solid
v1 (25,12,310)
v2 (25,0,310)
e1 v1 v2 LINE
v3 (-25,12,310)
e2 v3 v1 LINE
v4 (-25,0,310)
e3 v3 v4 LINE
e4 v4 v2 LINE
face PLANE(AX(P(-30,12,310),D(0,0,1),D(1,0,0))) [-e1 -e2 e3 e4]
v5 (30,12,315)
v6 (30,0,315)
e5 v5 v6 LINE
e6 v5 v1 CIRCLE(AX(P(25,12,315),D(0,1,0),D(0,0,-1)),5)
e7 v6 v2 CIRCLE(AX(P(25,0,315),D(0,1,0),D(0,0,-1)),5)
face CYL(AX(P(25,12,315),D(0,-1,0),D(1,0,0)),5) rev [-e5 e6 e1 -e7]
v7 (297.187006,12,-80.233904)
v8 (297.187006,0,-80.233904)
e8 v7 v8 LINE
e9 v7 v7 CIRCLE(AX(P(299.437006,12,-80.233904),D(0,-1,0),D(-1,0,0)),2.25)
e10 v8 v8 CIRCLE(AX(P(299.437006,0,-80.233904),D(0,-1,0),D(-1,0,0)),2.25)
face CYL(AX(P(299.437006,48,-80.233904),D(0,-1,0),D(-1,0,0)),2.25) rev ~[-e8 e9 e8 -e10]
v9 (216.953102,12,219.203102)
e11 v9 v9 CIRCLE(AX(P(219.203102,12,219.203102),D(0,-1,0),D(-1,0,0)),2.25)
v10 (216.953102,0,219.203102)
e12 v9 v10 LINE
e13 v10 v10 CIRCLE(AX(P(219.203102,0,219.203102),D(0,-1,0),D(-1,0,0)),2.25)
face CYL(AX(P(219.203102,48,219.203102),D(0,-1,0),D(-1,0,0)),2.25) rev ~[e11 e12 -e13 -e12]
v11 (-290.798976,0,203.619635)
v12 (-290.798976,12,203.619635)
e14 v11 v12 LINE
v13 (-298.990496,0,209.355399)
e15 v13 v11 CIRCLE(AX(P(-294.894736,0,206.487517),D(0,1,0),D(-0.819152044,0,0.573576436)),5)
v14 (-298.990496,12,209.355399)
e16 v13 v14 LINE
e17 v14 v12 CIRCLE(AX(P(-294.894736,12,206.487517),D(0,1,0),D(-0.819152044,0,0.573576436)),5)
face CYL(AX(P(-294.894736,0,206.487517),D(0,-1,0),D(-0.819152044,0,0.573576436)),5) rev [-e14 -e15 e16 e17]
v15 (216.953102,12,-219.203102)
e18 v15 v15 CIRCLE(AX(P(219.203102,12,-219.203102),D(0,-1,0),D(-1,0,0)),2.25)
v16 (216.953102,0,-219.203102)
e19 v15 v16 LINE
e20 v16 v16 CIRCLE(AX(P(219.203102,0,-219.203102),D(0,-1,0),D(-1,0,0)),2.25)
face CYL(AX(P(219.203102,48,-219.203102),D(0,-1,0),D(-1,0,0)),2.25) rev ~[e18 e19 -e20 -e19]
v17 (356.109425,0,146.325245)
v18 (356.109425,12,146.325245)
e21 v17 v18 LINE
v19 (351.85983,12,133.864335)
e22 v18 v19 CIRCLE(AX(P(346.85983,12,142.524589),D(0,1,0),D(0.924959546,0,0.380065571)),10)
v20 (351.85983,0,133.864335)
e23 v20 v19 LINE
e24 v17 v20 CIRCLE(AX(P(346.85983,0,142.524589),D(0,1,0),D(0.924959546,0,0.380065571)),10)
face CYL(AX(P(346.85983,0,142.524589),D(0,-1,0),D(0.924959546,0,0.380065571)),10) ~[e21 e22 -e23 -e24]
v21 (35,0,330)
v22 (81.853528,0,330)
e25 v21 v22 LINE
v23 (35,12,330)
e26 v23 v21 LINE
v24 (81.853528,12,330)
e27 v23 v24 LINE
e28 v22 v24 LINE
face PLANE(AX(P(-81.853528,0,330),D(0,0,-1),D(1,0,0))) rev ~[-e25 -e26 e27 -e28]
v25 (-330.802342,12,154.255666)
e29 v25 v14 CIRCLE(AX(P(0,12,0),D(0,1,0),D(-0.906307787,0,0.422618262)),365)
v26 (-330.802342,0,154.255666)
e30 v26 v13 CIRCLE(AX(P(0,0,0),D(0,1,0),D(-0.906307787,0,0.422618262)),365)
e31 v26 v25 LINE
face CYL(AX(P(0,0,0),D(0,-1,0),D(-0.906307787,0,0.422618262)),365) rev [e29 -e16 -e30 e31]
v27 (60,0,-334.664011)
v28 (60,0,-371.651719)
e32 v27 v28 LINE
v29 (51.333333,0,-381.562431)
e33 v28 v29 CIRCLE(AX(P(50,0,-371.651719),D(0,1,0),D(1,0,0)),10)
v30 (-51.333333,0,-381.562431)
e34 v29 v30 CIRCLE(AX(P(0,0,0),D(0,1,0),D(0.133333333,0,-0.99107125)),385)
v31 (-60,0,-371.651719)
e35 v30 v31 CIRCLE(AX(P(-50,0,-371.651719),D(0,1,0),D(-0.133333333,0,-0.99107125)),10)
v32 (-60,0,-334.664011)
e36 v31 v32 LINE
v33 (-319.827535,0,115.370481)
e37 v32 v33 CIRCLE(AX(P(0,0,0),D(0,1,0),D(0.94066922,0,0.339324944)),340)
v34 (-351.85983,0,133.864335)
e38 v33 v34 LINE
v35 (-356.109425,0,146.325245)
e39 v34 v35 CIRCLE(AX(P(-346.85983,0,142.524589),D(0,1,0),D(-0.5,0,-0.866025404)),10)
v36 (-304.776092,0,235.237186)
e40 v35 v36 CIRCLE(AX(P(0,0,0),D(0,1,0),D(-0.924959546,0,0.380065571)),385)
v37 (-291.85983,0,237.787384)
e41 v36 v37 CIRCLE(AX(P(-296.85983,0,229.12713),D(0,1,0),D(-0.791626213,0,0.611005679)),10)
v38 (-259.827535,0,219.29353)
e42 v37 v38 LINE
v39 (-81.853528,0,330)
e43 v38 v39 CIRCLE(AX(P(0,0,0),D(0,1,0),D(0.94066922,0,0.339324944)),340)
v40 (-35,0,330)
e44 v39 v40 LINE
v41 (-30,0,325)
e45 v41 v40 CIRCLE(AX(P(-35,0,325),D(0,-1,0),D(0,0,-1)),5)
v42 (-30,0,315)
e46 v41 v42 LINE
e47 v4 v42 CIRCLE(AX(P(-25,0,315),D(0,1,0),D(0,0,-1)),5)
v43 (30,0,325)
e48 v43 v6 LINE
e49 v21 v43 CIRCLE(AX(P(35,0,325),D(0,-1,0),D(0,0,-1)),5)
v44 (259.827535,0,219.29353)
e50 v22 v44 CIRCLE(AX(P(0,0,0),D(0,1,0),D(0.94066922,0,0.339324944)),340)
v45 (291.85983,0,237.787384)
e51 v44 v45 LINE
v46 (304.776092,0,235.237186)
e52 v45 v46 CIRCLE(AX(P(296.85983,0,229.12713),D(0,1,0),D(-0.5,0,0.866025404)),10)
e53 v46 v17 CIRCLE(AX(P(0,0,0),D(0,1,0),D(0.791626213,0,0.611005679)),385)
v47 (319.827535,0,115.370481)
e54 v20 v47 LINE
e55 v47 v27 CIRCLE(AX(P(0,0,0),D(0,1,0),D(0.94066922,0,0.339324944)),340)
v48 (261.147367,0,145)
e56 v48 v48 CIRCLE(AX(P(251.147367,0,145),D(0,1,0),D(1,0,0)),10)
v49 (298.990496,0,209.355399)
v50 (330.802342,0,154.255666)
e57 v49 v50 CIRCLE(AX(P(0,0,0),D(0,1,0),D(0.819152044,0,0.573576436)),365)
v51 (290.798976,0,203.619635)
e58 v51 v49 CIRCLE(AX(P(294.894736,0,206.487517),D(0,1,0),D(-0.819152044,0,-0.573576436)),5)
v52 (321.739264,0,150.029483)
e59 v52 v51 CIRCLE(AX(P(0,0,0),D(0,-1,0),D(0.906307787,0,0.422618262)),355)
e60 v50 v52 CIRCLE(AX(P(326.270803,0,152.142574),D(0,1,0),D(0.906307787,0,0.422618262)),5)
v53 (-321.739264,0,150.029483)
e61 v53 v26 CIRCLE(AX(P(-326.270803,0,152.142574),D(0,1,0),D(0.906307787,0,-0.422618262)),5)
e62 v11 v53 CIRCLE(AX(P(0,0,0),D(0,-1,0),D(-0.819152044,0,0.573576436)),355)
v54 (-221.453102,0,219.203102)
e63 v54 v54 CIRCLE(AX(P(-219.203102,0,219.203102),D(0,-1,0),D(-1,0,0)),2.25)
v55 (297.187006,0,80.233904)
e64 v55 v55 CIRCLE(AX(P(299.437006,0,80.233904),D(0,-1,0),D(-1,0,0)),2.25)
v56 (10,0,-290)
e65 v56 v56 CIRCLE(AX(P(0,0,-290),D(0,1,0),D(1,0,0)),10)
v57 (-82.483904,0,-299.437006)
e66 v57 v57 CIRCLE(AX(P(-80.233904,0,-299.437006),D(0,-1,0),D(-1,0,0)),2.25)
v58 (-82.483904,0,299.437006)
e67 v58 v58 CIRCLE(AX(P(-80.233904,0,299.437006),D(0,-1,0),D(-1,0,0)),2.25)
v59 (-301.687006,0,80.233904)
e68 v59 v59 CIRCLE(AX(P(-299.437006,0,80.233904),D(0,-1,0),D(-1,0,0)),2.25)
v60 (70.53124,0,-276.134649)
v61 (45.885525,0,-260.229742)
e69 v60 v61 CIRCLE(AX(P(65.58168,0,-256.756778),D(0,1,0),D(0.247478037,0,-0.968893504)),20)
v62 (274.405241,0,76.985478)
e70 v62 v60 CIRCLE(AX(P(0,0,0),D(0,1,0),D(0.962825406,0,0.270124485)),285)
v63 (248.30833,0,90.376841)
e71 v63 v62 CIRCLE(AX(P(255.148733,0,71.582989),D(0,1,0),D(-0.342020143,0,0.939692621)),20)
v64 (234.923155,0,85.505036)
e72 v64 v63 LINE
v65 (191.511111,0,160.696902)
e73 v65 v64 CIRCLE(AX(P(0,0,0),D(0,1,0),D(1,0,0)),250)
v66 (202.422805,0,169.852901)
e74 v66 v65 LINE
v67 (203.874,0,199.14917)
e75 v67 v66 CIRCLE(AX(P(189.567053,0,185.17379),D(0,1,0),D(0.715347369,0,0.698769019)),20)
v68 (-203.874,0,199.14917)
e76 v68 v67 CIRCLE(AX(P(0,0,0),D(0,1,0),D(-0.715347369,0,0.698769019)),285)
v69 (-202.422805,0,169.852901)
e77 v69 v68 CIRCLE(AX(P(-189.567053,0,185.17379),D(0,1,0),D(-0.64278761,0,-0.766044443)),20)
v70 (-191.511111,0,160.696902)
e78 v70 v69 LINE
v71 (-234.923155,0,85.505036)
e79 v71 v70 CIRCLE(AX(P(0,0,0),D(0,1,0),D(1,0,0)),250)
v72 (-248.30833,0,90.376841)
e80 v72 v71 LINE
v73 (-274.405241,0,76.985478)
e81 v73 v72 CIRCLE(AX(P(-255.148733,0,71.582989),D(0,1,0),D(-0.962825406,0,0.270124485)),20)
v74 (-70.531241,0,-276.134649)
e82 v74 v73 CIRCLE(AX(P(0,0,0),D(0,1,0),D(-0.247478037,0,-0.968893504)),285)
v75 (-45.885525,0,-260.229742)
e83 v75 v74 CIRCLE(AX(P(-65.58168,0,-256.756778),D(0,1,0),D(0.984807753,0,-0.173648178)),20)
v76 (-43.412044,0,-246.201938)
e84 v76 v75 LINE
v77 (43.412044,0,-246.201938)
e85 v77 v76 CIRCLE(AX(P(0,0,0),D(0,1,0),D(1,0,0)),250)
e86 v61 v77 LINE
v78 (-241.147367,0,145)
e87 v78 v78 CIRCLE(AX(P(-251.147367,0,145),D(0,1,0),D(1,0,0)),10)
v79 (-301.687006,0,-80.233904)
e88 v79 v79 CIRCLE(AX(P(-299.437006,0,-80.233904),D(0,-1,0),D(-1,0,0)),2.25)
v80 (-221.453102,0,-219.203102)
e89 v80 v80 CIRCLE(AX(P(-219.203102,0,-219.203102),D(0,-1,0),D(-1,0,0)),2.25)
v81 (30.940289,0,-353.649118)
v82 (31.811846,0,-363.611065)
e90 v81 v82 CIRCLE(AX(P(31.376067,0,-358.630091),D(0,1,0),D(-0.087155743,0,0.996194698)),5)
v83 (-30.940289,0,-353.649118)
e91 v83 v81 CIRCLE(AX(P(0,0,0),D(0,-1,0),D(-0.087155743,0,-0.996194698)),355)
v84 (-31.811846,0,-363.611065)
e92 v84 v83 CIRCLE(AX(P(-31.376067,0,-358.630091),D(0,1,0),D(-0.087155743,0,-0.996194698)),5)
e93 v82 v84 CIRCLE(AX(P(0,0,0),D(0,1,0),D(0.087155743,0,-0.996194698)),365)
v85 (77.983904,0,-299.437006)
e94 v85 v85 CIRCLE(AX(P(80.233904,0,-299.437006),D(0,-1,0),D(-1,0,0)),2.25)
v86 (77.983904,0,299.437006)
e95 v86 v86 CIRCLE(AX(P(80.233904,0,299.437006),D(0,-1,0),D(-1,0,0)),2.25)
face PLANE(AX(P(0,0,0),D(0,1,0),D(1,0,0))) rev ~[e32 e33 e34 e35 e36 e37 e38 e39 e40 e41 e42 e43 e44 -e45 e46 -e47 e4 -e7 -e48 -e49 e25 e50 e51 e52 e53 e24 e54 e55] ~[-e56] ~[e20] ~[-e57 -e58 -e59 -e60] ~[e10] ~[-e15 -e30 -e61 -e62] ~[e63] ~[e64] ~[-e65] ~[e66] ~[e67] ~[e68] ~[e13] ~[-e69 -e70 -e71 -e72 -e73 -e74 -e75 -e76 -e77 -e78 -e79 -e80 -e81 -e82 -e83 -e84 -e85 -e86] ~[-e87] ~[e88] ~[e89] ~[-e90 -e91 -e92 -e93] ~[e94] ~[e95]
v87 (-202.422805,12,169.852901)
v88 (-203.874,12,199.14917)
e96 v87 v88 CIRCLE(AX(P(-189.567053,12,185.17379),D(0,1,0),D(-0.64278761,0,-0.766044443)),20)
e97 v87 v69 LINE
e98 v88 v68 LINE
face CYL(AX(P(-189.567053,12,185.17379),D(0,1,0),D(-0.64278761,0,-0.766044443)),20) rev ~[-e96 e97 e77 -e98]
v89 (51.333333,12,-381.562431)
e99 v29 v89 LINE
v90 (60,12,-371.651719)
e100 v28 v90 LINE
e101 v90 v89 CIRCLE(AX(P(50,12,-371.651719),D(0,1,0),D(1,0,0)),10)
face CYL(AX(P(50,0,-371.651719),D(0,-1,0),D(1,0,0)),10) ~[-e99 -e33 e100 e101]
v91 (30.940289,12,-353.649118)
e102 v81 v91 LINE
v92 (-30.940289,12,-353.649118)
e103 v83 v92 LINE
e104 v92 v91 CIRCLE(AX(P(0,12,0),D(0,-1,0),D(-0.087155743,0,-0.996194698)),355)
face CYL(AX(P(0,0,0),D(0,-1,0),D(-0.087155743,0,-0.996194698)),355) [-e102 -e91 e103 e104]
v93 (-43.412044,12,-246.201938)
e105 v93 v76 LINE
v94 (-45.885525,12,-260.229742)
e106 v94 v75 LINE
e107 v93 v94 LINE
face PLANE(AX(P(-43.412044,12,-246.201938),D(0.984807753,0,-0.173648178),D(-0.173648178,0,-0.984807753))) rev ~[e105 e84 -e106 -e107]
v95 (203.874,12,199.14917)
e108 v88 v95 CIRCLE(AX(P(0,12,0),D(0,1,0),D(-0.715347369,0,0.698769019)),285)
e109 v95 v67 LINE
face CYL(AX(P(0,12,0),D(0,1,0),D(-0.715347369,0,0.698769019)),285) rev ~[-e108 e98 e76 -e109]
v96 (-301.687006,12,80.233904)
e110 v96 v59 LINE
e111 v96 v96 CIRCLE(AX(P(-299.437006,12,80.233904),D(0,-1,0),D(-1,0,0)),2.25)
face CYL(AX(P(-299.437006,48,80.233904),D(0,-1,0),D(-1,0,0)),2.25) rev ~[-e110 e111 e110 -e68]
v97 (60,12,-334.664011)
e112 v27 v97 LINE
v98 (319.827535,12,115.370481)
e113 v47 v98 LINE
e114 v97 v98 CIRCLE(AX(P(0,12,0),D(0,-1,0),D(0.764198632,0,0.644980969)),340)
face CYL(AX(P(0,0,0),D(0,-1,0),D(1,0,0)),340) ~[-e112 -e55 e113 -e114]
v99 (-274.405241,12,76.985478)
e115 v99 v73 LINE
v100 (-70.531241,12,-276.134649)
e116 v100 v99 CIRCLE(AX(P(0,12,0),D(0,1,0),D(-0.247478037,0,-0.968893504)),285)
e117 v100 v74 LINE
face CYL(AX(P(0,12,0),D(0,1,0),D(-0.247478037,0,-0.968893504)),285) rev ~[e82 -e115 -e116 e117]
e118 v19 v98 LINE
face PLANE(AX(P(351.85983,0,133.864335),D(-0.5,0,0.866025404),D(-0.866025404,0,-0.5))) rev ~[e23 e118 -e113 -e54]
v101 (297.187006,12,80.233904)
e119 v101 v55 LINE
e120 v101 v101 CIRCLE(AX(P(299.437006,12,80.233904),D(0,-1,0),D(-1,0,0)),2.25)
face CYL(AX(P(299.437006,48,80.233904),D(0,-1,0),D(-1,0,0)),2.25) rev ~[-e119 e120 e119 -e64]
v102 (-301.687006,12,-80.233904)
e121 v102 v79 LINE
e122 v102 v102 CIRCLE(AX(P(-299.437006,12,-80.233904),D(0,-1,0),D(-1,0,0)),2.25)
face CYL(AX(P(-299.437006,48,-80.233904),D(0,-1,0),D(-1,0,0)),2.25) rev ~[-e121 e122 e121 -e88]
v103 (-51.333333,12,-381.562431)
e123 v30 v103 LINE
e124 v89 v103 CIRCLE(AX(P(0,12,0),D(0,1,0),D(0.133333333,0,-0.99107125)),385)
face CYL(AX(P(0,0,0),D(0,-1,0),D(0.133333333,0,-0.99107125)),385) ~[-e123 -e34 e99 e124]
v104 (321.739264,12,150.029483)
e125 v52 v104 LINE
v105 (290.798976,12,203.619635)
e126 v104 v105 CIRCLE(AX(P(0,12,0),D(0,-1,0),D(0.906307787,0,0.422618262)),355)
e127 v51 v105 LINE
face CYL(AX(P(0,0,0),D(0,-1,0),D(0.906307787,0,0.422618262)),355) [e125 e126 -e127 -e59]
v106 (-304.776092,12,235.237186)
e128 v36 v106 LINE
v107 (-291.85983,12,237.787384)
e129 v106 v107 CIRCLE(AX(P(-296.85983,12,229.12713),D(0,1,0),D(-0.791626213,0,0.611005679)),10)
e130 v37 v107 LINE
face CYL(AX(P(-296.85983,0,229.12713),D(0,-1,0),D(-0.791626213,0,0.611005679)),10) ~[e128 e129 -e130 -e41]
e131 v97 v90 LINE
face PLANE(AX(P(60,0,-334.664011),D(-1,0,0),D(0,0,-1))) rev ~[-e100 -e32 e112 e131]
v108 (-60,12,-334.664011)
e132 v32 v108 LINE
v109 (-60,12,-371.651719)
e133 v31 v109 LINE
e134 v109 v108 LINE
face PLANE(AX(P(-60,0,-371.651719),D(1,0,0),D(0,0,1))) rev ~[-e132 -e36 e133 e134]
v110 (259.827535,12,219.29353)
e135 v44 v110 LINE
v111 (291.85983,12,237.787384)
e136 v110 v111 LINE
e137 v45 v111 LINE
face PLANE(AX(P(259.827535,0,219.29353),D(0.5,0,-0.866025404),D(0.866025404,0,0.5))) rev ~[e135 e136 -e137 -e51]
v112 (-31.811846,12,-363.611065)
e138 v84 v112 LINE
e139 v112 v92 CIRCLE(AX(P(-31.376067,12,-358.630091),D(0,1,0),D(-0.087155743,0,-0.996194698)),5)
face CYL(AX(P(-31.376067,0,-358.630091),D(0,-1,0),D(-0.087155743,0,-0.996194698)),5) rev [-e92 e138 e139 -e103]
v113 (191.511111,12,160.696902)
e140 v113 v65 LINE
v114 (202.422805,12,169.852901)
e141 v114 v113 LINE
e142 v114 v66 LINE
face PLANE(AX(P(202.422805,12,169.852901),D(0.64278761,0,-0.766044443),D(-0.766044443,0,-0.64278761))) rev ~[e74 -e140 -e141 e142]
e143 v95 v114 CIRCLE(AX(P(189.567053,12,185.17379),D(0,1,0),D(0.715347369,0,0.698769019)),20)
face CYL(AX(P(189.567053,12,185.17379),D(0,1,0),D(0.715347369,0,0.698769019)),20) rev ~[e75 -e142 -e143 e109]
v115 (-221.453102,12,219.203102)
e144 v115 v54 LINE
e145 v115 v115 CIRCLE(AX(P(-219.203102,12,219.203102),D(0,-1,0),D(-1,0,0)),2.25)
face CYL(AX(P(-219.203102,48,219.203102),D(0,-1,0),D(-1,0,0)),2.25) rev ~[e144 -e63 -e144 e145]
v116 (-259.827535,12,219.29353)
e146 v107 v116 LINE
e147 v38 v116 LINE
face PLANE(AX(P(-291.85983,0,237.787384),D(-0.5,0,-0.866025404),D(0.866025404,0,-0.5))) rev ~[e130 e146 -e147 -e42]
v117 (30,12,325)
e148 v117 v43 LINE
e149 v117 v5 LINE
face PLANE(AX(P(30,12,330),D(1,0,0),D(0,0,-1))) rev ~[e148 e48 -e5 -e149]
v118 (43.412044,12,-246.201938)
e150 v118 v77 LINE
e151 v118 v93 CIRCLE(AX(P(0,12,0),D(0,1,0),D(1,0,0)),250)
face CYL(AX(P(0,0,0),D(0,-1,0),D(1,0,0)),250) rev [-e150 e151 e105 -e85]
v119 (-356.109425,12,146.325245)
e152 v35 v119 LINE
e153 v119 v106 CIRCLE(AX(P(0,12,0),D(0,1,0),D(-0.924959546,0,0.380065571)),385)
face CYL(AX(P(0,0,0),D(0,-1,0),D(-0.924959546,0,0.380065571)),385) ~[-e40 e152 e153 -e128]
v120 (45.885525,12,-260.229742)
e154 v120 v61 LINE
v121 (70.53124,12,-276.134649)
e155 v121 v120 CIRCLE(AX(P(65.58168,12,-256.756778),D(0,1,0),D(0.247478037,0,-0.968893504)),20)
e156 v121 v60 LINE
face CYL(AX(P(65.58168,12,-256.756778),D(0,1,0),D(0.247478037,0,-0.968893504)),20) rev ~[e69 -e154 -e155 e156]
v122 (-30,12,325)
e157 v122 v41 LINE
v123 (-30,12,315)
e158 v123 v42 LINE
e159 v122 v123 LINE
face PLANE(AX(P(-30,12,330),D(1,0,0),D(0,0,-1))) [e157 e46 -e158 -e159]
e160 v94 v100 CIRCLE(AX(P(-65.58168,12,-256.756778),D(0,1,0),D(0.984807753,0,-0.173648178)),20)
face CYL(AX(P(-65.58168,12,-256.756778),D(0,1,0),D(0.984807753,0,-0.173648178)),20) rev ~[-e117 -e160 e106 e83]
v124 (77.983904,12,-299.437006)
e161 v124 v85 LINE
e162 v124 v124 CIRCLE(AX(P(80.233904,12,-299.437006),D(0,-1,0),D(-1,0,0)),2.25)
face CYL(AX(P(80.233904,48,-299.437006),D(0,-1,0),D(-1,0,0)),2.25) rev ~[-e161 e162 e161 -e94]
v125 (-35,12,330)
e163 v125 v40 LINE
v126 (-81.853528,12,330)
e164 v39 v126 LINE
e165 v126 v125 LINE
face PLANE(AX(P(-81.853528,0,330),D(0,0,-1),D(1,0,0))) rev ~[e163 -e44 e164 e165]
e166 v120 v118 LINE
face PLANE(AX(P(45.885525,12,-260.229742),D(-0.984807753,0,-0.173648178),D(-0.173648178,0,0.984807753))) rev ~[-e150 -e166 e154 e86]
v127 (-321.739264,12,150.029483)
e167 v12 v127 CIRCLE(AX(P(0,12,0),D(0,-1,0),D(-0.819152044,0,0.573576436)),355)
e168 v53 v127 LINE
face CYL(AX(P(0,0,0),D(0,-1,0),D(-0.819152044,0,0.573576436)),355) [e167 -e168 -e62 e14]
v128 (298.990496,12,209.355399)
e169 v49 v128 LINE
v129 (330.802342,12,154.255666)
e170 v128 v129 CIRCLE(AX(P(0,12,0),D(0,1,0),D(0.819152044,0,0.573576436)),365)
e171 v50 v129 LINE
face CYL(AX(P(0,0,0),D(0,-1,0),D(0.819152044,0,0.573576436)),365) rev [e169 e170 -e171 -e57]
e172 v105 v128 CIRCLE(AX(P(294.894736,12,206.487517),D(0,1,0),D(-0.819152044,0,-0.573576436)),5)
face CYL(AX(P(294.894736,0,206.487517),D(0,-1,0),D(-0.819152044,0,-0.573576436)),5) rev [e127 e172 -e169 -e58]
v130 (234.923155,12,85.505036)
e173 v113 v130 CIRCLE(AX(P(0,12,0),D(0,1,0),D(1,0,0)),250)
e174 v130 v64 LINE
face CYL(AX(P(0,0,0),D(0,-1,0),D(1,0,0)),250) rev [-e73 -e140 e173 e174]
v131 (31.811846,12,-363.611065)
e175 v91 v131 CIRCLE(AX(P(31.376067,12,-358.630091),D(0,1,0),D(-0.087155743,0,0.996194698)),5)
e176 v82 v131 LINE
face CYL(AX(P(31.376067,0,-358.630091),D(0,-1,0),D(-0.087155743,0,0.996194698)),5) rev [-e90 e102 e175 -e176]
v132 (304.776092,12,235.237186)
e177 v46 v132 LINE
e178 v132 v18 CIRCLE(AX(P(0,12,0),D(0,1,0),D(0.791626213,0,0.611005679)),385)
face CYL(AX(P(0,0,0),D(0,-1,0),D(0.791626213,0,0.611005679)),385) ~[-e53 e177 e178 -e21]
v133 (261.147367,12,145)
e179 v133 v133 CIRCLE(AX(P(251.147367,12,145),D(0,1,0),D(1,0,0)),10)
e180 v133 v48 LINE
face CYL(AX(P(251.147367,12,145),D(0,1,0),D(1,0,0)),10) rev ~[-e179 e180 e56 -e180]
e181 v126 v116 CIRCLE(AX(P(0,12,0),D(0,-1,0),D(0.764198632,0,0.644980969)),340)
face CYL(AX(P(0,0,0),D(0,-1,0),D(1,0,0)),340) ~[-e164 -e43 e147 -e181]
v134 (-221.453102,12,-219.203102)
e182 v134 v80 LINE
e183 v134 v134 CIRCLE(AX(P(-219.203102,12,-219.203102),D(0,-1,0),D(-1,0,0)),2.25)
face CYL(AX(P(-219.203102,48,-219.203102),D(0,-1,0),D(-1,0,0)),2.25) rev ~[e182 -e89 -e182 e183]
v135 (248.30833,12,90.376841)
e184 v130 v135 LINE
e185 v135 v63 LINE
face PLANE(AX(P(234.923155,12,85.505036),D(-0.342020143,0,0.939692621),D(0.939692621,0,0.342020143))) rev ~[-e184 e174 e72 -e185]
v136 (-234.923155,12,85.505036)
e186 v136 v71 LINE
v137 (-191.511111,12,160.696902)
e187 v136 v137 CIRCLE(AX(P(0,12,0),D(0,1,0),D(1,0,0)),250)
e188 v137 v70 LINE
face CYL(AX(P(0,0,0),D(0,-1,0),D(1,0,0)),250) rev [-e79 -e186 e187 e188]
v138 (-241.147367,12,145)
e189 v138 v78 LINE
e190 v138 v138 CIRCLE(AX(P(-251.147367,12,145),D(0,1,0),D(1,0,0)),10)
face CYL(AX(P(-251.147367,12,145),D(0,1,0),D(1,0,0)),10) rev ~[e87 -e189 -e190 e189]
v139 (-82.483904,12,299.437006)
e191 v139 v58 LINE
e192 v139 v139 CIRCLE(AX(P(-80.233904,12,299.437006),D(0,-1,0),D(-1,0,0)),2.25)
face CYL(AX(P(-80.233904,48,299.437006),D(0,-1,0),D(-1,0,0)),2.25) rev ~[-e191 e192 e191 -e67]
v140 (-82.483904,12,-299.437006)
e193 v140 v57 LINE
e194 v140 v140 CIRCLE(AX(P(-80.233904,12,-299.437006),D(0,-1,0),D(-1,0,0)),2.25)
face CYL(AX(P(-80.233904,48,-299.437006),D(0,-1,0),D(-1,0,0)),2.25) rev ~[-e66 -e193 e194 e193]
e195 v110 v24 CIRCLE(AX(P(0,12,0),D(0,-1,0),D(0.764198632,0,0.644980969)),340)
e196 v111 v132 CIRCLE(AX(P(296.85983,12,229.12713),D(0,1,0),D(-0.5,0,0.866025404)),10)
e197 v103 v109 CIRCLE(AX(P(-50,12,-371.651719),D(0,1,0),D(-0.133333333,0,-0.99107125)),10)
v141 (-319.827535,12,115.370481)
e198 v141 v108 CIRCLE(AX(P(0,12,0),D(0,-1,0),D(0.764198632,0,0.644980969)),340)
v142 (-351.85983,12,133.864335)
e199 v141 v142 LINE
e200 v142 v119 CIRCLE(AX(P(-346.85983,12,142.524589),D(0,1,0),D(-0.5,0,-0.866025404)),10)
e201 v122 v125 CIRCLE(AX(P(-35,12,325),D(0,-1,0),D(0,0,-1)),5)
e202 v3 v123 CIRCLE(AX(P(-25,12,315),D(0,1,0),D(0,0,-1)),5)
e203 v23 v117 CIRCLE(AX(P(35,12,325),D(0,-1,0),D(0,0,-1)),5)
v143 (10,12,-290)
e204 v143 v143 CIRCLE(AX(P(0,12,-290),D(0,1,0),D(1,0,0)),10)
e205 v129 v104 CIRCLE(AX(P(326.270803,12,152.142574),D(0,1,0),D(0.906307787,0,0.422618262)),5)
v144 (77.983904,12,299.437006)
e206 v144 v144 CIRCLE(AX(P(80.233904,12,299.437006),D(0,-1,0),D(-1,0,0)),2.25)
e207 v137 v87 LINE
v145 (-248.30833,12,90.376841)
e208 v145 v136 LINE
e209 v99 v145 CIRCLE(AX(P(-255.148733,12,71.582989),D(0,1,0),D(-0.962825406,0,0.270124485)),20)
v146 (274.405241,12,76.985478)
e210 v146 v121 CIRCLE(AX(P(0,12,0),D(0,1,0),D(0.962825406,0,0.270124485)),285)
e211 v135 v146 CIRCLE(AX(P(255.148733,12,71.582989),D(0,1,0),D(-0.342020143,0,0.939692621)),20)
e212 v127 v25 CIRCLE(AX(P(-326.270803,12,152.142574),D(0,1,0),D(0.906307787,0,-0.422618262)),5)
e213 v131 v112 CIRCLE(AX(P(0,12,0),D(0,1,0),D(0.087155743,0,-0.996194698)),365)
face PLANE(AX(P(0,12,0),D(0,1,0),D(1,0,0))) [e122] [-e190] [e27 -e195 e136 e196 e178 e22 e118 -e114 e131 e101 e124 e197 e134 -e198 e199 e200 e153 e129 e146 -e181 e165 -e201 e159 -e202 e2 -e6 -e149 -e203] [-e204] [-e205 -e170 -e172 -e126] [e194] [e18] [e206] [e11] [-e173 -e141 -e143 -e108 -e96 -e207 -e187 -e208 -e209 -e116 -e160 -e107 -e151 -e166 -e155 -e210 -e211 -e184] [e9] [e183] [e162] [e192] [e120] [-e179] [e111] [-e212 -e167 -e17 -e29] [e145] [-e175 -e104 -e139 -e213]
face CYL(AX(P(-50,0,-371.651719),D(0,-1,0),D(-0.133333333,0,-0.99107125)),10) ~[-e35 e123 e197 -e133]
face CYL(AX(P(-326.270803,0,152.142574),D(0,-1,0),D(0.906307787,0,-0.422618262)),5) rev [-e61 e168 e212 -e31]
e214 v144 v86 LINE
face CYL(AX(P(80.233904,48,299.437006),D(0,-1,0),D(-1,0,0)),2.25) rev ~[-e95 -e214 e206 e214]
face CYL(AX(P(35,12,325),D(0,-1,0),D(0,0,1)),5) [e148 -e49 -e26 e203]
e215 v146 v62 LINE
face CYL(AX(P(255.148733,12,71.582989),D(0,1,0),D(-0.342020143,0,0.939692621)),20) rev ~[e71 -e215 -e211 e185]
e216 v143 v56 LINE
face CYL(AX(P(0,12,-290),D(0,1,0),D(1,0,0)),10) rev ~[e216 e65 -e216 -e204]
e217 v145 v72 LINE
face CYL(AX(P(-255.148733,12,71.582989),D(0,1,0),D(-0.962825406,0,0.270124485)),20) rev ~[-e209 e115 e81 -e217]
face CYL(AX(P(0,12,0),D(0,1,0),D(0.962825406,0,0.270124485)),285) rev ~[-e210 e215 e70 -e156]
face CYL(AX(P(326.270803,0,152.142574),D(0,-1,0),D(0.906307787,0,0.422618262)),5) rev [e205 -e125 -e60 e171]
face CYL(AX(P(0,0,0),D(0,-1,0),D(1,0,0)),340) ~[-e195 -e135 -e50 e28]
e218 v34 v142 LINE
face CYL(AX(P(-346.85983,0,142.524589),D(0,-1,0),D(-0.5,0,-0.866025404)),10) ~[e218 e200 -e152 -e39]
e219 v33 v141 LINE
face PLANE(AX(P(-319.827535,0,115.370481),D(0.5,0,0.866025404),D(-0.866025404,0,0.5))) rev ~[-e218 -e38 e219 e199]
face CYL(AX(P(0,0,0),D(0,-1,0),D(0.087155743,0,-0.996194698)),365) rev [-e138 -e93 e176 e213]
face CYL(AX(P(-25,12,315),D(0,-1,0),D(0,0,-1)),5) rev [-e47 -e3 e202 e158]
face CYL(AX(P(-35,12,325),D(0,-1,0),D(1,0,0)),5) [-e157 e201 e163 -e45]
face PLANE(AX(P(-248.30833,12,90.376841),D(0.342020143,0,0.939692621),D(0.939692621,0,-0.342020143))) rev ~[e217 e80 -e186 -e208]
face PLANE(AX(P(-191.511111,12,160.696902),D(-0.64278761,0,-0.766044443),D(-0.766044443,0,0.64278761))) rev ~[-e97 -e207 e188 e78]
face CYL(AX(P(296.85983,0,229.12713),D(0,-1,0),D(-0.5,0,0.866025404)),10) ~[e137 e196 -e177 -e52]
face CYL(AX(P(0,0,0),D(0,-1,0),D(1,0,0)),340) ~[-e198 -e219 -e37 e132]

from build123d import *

# Parameters (mm, degrees)
SKETCH1_R                                      = 340
SKETCH1_R_2                                    = 250
BOSS_EXTRUDE1_DEPTH                            = 12
BOSS_EXTRUDE2_DEPTH                            = 12
CIRPATTERN1_COUNT                              = 3
CUT_EXTRUDE1_DEPTH                             = 12
CIRPATTERN2_COUNT                              = 3
CUT_EXTRUDE2_DEPTH                             = 12
SKETCH8_R                                      = 10
CUT_EXTRUDE3_DEPTH                             = 12
SKETCH9_W                                      = 60
SKETCH9_H                                      = 20
CUT_EXTRUDE4_DEPTH                             = 12
FILLET1_R                                      = 5
CSK_FOR_M4_FLAT_HEAD_MACHINE_SCREW_D           = 4.5
CSK_FOR_M4_FLAT_HEAD_MACHINE_SCREW_CSINK_D     = 9.4
CSK_FOR_M4_FLAT_HEAD_MACHINE_SCREW_CSINK_ANGLE = 90


with BuildPart() as part:
    # Sketch1 → Boss-Extrude1 (new body)
    with BuildSketch(Plane(origin=(0, 0, 0), x_dir=(1, 0, 0), z_dir=(0, 1, 0))):
        Circle(SKETCH1_R)
        Circle(SKETCH1_R_2, mode=Mode.SUBTRACT)
    extrude(amount=BOSS_EXTRUDE1_DEPTH)

    # Sketch2 → Boss-Extrude2 (add)
    with BuildSketch(Plane.XZ):
        with BuildLine():
            Line((351.85982974, 133.864335114), (319.827534924, 115.37048108))
            ThreePointArc((319.827534924, 115.37048108), (294.448637287, 170), (259.827534924, 219.293529534))
            Line((259.827534924, 219.293529534), (291.85982974, 237.787383569))
            ThreePointArc((291.85982974, 237.787383569), (298.796843602, 238.937734879), (304.776091866, 235.237186318))
            ThreePointArc((304.776091866, 235.237186318), (333.419780457, 192.5), (356.109425199, 146.325244863))
            ThreePointArc((356.109425199, 146.325244863), (356.324570129, 139.29678969), (351.85982974, 133.864335114))
        make_face()
        with BuildLine():
            ThreePointArc((298.990496165, 209.355399268), (316.099272381, 182.5), (330.802342268, 154.255665535))
            ThreePointArc((330.802342268, 154.255665535), (328.383894642, 147.611035291), (321.739264398, 150.029482918))
            ThreePointArc((321.739264398, 150.029482918), (307.439018343, 177.5), (290.798975723, 203.619634905))
            ThreePointArc((290.798975723, 203.619634905), (292.026853762, 210.583277308), (298.990496165, 209.355399268))
        make_face(mode=Mode.SUBTRACT)
    boss_extrude2 = extrude(amount=-BOSS_EXTRUDE2_DEPTH)

    # CirPattern1: Boss-Extrude2 ×3 about axis
    cirpattern1_axis = Axis((0, 0, 0), (0, 1, 0))
    for i in range(1, CIRPATTERN1_COUNT):
        add(boss_extrude2.rotate(cirpattern1_axis, i * 360 / CIRPATTERN1_COUNT))

    # Sketch6 → Cut-Extrude1 (cut)
    with BuildSketch(Plane(origin=(0, 12, 0), x_dir=(1, 0, 0), z_dir=(0, 1, 0))):
        with BuildLine():
            Line((234.923155199, -85.505035825), (248.308329747, -90.37684094))
            ThreePointArc((248.308329747, -90.37684094), (264.279563148, -89.37703061), (274.405240734, -76.985478225))
            ThreePointArc((274.405240734, -76.985478225), (246.817240074, 142.500000006), (70.531240487, 276.134648524))
            ThreePointArc((70.531240487, 276.134648524), (54.737002537, 273.561330696), (45.885524691, 260.229742005))
            Line((45.885524691, 260.229742005), (43.412044408, 246.201938255))
            ThreePointArc((43.412044408, 246.201938255), (216.506350942, 125.000000007), (234.923155199, -85.505035825))
        make_face()
    cut_extrude1 = extrude(amount=-CUT_EXTRUDE1_DEPTH, mode=Mode.SUBTRACT)

    # CirPattern2: Cut-Extrude1 ×3 about axis
    cirpattern2_axis = Axis((0, 0, 0), (0, 1, 0))
    for i in range(1, CIRPATTERN2_COUNT):
        add(cut_extrude1.rotate(cirpattern2_axis, i * 360 / CIRPATTERN2_COUNT), mode=Mode.SUBTRACT)

    # Sketch7 → Cut-Extrude2 (cut)
    with BuildSketch(Plane.XZ):
        with BuildLine():
            Line((-81.853527719, 330), (81.853527719, 330))
            ThreePointArc((81.853527719, 330), (0, 340), (-81.853527719, 330))
        make_face()
    extrude(amount=-CUT_EXTRUDE2_DEPTH, mode=Mode.SUBTRACT)

    # Sketch8 → Cut-Extrude3 (cut)
    with BuildSketch(Plane(origin=(0, 12, 0), x_dir=(1, 0, 0), z_dir=(0, 1, 0))):
        with Locations((0, 290)):
            Circle(SKETCH8_R)
        with Locations((251.147367097, -145)):
            Circle(SKETCH8_R)
        with Locations((-251.147367097, -145)):
            Circle(SKETCH8_R)
    extrude(amount=-CUT_EXTRUDE3_DEPTH, mode=Mode.SUBTRACT)

    # Sketch9 → Cut-Extrude4 (cut)
    with BuildSketch(Plane(origin=(0, 12, 0), x_dir=(1, 0, 0), z_dir=(0, 1, 0))):
        with Locations((0, -320)):
            Rectangle(SKETCH9_W, SKETCH9_H)
    extrude(amount=-CUT_EXTRUDE4_DEPTH, mode=Mode.SUBTRACT)

    # Fillet1
    fillet1_edges = [part.edges().sort_by_distance(p)[0] for p in [
        (30, 6, 330),
        (-30, 6, 330),
        (-30, 6, 310),
        (30, 6, 310),
    ]]
    fillet(fillet1_edges, radius=FILLET1_R)

    # CSK for M4 Flat Head Machine Screw (through all)
    with Locations(Plane(origin=(0, 48, 0), x_dir=(1, 0, 0), z_dir=(0, 1, 0))):
        with Locations((80.233903982, 299.43700615), (219.203102168, 219.203102168), (299.43700615, 80.233903982), (299.43700615, -80.233903982), (219.203102168, -219.203102168), (80.233903982, -299.43700615), (-80.233903982, -299.43700615), (-219.203102168, -219.203102168), (-299.43700615, -80.233903982), (-299.43700615, 80.233903982), (-219.203102168, 219.203102168), (-80.233903982, 299.43700615), (0, 0)):
            CounterSinkHole(CSK_FOR_M4_FLAT_HEAD_MACHINE_SCREW_D / 2, CSK_FOR_M4_FLAT_HEAD_MACHINE_SCREW_CSINK_D / 2, counter_sink_angle=CSK_FOR_M4_FLAT_HEAD_MACHINE_SCREW_CSINK_ANGLE)


solid = part.part
